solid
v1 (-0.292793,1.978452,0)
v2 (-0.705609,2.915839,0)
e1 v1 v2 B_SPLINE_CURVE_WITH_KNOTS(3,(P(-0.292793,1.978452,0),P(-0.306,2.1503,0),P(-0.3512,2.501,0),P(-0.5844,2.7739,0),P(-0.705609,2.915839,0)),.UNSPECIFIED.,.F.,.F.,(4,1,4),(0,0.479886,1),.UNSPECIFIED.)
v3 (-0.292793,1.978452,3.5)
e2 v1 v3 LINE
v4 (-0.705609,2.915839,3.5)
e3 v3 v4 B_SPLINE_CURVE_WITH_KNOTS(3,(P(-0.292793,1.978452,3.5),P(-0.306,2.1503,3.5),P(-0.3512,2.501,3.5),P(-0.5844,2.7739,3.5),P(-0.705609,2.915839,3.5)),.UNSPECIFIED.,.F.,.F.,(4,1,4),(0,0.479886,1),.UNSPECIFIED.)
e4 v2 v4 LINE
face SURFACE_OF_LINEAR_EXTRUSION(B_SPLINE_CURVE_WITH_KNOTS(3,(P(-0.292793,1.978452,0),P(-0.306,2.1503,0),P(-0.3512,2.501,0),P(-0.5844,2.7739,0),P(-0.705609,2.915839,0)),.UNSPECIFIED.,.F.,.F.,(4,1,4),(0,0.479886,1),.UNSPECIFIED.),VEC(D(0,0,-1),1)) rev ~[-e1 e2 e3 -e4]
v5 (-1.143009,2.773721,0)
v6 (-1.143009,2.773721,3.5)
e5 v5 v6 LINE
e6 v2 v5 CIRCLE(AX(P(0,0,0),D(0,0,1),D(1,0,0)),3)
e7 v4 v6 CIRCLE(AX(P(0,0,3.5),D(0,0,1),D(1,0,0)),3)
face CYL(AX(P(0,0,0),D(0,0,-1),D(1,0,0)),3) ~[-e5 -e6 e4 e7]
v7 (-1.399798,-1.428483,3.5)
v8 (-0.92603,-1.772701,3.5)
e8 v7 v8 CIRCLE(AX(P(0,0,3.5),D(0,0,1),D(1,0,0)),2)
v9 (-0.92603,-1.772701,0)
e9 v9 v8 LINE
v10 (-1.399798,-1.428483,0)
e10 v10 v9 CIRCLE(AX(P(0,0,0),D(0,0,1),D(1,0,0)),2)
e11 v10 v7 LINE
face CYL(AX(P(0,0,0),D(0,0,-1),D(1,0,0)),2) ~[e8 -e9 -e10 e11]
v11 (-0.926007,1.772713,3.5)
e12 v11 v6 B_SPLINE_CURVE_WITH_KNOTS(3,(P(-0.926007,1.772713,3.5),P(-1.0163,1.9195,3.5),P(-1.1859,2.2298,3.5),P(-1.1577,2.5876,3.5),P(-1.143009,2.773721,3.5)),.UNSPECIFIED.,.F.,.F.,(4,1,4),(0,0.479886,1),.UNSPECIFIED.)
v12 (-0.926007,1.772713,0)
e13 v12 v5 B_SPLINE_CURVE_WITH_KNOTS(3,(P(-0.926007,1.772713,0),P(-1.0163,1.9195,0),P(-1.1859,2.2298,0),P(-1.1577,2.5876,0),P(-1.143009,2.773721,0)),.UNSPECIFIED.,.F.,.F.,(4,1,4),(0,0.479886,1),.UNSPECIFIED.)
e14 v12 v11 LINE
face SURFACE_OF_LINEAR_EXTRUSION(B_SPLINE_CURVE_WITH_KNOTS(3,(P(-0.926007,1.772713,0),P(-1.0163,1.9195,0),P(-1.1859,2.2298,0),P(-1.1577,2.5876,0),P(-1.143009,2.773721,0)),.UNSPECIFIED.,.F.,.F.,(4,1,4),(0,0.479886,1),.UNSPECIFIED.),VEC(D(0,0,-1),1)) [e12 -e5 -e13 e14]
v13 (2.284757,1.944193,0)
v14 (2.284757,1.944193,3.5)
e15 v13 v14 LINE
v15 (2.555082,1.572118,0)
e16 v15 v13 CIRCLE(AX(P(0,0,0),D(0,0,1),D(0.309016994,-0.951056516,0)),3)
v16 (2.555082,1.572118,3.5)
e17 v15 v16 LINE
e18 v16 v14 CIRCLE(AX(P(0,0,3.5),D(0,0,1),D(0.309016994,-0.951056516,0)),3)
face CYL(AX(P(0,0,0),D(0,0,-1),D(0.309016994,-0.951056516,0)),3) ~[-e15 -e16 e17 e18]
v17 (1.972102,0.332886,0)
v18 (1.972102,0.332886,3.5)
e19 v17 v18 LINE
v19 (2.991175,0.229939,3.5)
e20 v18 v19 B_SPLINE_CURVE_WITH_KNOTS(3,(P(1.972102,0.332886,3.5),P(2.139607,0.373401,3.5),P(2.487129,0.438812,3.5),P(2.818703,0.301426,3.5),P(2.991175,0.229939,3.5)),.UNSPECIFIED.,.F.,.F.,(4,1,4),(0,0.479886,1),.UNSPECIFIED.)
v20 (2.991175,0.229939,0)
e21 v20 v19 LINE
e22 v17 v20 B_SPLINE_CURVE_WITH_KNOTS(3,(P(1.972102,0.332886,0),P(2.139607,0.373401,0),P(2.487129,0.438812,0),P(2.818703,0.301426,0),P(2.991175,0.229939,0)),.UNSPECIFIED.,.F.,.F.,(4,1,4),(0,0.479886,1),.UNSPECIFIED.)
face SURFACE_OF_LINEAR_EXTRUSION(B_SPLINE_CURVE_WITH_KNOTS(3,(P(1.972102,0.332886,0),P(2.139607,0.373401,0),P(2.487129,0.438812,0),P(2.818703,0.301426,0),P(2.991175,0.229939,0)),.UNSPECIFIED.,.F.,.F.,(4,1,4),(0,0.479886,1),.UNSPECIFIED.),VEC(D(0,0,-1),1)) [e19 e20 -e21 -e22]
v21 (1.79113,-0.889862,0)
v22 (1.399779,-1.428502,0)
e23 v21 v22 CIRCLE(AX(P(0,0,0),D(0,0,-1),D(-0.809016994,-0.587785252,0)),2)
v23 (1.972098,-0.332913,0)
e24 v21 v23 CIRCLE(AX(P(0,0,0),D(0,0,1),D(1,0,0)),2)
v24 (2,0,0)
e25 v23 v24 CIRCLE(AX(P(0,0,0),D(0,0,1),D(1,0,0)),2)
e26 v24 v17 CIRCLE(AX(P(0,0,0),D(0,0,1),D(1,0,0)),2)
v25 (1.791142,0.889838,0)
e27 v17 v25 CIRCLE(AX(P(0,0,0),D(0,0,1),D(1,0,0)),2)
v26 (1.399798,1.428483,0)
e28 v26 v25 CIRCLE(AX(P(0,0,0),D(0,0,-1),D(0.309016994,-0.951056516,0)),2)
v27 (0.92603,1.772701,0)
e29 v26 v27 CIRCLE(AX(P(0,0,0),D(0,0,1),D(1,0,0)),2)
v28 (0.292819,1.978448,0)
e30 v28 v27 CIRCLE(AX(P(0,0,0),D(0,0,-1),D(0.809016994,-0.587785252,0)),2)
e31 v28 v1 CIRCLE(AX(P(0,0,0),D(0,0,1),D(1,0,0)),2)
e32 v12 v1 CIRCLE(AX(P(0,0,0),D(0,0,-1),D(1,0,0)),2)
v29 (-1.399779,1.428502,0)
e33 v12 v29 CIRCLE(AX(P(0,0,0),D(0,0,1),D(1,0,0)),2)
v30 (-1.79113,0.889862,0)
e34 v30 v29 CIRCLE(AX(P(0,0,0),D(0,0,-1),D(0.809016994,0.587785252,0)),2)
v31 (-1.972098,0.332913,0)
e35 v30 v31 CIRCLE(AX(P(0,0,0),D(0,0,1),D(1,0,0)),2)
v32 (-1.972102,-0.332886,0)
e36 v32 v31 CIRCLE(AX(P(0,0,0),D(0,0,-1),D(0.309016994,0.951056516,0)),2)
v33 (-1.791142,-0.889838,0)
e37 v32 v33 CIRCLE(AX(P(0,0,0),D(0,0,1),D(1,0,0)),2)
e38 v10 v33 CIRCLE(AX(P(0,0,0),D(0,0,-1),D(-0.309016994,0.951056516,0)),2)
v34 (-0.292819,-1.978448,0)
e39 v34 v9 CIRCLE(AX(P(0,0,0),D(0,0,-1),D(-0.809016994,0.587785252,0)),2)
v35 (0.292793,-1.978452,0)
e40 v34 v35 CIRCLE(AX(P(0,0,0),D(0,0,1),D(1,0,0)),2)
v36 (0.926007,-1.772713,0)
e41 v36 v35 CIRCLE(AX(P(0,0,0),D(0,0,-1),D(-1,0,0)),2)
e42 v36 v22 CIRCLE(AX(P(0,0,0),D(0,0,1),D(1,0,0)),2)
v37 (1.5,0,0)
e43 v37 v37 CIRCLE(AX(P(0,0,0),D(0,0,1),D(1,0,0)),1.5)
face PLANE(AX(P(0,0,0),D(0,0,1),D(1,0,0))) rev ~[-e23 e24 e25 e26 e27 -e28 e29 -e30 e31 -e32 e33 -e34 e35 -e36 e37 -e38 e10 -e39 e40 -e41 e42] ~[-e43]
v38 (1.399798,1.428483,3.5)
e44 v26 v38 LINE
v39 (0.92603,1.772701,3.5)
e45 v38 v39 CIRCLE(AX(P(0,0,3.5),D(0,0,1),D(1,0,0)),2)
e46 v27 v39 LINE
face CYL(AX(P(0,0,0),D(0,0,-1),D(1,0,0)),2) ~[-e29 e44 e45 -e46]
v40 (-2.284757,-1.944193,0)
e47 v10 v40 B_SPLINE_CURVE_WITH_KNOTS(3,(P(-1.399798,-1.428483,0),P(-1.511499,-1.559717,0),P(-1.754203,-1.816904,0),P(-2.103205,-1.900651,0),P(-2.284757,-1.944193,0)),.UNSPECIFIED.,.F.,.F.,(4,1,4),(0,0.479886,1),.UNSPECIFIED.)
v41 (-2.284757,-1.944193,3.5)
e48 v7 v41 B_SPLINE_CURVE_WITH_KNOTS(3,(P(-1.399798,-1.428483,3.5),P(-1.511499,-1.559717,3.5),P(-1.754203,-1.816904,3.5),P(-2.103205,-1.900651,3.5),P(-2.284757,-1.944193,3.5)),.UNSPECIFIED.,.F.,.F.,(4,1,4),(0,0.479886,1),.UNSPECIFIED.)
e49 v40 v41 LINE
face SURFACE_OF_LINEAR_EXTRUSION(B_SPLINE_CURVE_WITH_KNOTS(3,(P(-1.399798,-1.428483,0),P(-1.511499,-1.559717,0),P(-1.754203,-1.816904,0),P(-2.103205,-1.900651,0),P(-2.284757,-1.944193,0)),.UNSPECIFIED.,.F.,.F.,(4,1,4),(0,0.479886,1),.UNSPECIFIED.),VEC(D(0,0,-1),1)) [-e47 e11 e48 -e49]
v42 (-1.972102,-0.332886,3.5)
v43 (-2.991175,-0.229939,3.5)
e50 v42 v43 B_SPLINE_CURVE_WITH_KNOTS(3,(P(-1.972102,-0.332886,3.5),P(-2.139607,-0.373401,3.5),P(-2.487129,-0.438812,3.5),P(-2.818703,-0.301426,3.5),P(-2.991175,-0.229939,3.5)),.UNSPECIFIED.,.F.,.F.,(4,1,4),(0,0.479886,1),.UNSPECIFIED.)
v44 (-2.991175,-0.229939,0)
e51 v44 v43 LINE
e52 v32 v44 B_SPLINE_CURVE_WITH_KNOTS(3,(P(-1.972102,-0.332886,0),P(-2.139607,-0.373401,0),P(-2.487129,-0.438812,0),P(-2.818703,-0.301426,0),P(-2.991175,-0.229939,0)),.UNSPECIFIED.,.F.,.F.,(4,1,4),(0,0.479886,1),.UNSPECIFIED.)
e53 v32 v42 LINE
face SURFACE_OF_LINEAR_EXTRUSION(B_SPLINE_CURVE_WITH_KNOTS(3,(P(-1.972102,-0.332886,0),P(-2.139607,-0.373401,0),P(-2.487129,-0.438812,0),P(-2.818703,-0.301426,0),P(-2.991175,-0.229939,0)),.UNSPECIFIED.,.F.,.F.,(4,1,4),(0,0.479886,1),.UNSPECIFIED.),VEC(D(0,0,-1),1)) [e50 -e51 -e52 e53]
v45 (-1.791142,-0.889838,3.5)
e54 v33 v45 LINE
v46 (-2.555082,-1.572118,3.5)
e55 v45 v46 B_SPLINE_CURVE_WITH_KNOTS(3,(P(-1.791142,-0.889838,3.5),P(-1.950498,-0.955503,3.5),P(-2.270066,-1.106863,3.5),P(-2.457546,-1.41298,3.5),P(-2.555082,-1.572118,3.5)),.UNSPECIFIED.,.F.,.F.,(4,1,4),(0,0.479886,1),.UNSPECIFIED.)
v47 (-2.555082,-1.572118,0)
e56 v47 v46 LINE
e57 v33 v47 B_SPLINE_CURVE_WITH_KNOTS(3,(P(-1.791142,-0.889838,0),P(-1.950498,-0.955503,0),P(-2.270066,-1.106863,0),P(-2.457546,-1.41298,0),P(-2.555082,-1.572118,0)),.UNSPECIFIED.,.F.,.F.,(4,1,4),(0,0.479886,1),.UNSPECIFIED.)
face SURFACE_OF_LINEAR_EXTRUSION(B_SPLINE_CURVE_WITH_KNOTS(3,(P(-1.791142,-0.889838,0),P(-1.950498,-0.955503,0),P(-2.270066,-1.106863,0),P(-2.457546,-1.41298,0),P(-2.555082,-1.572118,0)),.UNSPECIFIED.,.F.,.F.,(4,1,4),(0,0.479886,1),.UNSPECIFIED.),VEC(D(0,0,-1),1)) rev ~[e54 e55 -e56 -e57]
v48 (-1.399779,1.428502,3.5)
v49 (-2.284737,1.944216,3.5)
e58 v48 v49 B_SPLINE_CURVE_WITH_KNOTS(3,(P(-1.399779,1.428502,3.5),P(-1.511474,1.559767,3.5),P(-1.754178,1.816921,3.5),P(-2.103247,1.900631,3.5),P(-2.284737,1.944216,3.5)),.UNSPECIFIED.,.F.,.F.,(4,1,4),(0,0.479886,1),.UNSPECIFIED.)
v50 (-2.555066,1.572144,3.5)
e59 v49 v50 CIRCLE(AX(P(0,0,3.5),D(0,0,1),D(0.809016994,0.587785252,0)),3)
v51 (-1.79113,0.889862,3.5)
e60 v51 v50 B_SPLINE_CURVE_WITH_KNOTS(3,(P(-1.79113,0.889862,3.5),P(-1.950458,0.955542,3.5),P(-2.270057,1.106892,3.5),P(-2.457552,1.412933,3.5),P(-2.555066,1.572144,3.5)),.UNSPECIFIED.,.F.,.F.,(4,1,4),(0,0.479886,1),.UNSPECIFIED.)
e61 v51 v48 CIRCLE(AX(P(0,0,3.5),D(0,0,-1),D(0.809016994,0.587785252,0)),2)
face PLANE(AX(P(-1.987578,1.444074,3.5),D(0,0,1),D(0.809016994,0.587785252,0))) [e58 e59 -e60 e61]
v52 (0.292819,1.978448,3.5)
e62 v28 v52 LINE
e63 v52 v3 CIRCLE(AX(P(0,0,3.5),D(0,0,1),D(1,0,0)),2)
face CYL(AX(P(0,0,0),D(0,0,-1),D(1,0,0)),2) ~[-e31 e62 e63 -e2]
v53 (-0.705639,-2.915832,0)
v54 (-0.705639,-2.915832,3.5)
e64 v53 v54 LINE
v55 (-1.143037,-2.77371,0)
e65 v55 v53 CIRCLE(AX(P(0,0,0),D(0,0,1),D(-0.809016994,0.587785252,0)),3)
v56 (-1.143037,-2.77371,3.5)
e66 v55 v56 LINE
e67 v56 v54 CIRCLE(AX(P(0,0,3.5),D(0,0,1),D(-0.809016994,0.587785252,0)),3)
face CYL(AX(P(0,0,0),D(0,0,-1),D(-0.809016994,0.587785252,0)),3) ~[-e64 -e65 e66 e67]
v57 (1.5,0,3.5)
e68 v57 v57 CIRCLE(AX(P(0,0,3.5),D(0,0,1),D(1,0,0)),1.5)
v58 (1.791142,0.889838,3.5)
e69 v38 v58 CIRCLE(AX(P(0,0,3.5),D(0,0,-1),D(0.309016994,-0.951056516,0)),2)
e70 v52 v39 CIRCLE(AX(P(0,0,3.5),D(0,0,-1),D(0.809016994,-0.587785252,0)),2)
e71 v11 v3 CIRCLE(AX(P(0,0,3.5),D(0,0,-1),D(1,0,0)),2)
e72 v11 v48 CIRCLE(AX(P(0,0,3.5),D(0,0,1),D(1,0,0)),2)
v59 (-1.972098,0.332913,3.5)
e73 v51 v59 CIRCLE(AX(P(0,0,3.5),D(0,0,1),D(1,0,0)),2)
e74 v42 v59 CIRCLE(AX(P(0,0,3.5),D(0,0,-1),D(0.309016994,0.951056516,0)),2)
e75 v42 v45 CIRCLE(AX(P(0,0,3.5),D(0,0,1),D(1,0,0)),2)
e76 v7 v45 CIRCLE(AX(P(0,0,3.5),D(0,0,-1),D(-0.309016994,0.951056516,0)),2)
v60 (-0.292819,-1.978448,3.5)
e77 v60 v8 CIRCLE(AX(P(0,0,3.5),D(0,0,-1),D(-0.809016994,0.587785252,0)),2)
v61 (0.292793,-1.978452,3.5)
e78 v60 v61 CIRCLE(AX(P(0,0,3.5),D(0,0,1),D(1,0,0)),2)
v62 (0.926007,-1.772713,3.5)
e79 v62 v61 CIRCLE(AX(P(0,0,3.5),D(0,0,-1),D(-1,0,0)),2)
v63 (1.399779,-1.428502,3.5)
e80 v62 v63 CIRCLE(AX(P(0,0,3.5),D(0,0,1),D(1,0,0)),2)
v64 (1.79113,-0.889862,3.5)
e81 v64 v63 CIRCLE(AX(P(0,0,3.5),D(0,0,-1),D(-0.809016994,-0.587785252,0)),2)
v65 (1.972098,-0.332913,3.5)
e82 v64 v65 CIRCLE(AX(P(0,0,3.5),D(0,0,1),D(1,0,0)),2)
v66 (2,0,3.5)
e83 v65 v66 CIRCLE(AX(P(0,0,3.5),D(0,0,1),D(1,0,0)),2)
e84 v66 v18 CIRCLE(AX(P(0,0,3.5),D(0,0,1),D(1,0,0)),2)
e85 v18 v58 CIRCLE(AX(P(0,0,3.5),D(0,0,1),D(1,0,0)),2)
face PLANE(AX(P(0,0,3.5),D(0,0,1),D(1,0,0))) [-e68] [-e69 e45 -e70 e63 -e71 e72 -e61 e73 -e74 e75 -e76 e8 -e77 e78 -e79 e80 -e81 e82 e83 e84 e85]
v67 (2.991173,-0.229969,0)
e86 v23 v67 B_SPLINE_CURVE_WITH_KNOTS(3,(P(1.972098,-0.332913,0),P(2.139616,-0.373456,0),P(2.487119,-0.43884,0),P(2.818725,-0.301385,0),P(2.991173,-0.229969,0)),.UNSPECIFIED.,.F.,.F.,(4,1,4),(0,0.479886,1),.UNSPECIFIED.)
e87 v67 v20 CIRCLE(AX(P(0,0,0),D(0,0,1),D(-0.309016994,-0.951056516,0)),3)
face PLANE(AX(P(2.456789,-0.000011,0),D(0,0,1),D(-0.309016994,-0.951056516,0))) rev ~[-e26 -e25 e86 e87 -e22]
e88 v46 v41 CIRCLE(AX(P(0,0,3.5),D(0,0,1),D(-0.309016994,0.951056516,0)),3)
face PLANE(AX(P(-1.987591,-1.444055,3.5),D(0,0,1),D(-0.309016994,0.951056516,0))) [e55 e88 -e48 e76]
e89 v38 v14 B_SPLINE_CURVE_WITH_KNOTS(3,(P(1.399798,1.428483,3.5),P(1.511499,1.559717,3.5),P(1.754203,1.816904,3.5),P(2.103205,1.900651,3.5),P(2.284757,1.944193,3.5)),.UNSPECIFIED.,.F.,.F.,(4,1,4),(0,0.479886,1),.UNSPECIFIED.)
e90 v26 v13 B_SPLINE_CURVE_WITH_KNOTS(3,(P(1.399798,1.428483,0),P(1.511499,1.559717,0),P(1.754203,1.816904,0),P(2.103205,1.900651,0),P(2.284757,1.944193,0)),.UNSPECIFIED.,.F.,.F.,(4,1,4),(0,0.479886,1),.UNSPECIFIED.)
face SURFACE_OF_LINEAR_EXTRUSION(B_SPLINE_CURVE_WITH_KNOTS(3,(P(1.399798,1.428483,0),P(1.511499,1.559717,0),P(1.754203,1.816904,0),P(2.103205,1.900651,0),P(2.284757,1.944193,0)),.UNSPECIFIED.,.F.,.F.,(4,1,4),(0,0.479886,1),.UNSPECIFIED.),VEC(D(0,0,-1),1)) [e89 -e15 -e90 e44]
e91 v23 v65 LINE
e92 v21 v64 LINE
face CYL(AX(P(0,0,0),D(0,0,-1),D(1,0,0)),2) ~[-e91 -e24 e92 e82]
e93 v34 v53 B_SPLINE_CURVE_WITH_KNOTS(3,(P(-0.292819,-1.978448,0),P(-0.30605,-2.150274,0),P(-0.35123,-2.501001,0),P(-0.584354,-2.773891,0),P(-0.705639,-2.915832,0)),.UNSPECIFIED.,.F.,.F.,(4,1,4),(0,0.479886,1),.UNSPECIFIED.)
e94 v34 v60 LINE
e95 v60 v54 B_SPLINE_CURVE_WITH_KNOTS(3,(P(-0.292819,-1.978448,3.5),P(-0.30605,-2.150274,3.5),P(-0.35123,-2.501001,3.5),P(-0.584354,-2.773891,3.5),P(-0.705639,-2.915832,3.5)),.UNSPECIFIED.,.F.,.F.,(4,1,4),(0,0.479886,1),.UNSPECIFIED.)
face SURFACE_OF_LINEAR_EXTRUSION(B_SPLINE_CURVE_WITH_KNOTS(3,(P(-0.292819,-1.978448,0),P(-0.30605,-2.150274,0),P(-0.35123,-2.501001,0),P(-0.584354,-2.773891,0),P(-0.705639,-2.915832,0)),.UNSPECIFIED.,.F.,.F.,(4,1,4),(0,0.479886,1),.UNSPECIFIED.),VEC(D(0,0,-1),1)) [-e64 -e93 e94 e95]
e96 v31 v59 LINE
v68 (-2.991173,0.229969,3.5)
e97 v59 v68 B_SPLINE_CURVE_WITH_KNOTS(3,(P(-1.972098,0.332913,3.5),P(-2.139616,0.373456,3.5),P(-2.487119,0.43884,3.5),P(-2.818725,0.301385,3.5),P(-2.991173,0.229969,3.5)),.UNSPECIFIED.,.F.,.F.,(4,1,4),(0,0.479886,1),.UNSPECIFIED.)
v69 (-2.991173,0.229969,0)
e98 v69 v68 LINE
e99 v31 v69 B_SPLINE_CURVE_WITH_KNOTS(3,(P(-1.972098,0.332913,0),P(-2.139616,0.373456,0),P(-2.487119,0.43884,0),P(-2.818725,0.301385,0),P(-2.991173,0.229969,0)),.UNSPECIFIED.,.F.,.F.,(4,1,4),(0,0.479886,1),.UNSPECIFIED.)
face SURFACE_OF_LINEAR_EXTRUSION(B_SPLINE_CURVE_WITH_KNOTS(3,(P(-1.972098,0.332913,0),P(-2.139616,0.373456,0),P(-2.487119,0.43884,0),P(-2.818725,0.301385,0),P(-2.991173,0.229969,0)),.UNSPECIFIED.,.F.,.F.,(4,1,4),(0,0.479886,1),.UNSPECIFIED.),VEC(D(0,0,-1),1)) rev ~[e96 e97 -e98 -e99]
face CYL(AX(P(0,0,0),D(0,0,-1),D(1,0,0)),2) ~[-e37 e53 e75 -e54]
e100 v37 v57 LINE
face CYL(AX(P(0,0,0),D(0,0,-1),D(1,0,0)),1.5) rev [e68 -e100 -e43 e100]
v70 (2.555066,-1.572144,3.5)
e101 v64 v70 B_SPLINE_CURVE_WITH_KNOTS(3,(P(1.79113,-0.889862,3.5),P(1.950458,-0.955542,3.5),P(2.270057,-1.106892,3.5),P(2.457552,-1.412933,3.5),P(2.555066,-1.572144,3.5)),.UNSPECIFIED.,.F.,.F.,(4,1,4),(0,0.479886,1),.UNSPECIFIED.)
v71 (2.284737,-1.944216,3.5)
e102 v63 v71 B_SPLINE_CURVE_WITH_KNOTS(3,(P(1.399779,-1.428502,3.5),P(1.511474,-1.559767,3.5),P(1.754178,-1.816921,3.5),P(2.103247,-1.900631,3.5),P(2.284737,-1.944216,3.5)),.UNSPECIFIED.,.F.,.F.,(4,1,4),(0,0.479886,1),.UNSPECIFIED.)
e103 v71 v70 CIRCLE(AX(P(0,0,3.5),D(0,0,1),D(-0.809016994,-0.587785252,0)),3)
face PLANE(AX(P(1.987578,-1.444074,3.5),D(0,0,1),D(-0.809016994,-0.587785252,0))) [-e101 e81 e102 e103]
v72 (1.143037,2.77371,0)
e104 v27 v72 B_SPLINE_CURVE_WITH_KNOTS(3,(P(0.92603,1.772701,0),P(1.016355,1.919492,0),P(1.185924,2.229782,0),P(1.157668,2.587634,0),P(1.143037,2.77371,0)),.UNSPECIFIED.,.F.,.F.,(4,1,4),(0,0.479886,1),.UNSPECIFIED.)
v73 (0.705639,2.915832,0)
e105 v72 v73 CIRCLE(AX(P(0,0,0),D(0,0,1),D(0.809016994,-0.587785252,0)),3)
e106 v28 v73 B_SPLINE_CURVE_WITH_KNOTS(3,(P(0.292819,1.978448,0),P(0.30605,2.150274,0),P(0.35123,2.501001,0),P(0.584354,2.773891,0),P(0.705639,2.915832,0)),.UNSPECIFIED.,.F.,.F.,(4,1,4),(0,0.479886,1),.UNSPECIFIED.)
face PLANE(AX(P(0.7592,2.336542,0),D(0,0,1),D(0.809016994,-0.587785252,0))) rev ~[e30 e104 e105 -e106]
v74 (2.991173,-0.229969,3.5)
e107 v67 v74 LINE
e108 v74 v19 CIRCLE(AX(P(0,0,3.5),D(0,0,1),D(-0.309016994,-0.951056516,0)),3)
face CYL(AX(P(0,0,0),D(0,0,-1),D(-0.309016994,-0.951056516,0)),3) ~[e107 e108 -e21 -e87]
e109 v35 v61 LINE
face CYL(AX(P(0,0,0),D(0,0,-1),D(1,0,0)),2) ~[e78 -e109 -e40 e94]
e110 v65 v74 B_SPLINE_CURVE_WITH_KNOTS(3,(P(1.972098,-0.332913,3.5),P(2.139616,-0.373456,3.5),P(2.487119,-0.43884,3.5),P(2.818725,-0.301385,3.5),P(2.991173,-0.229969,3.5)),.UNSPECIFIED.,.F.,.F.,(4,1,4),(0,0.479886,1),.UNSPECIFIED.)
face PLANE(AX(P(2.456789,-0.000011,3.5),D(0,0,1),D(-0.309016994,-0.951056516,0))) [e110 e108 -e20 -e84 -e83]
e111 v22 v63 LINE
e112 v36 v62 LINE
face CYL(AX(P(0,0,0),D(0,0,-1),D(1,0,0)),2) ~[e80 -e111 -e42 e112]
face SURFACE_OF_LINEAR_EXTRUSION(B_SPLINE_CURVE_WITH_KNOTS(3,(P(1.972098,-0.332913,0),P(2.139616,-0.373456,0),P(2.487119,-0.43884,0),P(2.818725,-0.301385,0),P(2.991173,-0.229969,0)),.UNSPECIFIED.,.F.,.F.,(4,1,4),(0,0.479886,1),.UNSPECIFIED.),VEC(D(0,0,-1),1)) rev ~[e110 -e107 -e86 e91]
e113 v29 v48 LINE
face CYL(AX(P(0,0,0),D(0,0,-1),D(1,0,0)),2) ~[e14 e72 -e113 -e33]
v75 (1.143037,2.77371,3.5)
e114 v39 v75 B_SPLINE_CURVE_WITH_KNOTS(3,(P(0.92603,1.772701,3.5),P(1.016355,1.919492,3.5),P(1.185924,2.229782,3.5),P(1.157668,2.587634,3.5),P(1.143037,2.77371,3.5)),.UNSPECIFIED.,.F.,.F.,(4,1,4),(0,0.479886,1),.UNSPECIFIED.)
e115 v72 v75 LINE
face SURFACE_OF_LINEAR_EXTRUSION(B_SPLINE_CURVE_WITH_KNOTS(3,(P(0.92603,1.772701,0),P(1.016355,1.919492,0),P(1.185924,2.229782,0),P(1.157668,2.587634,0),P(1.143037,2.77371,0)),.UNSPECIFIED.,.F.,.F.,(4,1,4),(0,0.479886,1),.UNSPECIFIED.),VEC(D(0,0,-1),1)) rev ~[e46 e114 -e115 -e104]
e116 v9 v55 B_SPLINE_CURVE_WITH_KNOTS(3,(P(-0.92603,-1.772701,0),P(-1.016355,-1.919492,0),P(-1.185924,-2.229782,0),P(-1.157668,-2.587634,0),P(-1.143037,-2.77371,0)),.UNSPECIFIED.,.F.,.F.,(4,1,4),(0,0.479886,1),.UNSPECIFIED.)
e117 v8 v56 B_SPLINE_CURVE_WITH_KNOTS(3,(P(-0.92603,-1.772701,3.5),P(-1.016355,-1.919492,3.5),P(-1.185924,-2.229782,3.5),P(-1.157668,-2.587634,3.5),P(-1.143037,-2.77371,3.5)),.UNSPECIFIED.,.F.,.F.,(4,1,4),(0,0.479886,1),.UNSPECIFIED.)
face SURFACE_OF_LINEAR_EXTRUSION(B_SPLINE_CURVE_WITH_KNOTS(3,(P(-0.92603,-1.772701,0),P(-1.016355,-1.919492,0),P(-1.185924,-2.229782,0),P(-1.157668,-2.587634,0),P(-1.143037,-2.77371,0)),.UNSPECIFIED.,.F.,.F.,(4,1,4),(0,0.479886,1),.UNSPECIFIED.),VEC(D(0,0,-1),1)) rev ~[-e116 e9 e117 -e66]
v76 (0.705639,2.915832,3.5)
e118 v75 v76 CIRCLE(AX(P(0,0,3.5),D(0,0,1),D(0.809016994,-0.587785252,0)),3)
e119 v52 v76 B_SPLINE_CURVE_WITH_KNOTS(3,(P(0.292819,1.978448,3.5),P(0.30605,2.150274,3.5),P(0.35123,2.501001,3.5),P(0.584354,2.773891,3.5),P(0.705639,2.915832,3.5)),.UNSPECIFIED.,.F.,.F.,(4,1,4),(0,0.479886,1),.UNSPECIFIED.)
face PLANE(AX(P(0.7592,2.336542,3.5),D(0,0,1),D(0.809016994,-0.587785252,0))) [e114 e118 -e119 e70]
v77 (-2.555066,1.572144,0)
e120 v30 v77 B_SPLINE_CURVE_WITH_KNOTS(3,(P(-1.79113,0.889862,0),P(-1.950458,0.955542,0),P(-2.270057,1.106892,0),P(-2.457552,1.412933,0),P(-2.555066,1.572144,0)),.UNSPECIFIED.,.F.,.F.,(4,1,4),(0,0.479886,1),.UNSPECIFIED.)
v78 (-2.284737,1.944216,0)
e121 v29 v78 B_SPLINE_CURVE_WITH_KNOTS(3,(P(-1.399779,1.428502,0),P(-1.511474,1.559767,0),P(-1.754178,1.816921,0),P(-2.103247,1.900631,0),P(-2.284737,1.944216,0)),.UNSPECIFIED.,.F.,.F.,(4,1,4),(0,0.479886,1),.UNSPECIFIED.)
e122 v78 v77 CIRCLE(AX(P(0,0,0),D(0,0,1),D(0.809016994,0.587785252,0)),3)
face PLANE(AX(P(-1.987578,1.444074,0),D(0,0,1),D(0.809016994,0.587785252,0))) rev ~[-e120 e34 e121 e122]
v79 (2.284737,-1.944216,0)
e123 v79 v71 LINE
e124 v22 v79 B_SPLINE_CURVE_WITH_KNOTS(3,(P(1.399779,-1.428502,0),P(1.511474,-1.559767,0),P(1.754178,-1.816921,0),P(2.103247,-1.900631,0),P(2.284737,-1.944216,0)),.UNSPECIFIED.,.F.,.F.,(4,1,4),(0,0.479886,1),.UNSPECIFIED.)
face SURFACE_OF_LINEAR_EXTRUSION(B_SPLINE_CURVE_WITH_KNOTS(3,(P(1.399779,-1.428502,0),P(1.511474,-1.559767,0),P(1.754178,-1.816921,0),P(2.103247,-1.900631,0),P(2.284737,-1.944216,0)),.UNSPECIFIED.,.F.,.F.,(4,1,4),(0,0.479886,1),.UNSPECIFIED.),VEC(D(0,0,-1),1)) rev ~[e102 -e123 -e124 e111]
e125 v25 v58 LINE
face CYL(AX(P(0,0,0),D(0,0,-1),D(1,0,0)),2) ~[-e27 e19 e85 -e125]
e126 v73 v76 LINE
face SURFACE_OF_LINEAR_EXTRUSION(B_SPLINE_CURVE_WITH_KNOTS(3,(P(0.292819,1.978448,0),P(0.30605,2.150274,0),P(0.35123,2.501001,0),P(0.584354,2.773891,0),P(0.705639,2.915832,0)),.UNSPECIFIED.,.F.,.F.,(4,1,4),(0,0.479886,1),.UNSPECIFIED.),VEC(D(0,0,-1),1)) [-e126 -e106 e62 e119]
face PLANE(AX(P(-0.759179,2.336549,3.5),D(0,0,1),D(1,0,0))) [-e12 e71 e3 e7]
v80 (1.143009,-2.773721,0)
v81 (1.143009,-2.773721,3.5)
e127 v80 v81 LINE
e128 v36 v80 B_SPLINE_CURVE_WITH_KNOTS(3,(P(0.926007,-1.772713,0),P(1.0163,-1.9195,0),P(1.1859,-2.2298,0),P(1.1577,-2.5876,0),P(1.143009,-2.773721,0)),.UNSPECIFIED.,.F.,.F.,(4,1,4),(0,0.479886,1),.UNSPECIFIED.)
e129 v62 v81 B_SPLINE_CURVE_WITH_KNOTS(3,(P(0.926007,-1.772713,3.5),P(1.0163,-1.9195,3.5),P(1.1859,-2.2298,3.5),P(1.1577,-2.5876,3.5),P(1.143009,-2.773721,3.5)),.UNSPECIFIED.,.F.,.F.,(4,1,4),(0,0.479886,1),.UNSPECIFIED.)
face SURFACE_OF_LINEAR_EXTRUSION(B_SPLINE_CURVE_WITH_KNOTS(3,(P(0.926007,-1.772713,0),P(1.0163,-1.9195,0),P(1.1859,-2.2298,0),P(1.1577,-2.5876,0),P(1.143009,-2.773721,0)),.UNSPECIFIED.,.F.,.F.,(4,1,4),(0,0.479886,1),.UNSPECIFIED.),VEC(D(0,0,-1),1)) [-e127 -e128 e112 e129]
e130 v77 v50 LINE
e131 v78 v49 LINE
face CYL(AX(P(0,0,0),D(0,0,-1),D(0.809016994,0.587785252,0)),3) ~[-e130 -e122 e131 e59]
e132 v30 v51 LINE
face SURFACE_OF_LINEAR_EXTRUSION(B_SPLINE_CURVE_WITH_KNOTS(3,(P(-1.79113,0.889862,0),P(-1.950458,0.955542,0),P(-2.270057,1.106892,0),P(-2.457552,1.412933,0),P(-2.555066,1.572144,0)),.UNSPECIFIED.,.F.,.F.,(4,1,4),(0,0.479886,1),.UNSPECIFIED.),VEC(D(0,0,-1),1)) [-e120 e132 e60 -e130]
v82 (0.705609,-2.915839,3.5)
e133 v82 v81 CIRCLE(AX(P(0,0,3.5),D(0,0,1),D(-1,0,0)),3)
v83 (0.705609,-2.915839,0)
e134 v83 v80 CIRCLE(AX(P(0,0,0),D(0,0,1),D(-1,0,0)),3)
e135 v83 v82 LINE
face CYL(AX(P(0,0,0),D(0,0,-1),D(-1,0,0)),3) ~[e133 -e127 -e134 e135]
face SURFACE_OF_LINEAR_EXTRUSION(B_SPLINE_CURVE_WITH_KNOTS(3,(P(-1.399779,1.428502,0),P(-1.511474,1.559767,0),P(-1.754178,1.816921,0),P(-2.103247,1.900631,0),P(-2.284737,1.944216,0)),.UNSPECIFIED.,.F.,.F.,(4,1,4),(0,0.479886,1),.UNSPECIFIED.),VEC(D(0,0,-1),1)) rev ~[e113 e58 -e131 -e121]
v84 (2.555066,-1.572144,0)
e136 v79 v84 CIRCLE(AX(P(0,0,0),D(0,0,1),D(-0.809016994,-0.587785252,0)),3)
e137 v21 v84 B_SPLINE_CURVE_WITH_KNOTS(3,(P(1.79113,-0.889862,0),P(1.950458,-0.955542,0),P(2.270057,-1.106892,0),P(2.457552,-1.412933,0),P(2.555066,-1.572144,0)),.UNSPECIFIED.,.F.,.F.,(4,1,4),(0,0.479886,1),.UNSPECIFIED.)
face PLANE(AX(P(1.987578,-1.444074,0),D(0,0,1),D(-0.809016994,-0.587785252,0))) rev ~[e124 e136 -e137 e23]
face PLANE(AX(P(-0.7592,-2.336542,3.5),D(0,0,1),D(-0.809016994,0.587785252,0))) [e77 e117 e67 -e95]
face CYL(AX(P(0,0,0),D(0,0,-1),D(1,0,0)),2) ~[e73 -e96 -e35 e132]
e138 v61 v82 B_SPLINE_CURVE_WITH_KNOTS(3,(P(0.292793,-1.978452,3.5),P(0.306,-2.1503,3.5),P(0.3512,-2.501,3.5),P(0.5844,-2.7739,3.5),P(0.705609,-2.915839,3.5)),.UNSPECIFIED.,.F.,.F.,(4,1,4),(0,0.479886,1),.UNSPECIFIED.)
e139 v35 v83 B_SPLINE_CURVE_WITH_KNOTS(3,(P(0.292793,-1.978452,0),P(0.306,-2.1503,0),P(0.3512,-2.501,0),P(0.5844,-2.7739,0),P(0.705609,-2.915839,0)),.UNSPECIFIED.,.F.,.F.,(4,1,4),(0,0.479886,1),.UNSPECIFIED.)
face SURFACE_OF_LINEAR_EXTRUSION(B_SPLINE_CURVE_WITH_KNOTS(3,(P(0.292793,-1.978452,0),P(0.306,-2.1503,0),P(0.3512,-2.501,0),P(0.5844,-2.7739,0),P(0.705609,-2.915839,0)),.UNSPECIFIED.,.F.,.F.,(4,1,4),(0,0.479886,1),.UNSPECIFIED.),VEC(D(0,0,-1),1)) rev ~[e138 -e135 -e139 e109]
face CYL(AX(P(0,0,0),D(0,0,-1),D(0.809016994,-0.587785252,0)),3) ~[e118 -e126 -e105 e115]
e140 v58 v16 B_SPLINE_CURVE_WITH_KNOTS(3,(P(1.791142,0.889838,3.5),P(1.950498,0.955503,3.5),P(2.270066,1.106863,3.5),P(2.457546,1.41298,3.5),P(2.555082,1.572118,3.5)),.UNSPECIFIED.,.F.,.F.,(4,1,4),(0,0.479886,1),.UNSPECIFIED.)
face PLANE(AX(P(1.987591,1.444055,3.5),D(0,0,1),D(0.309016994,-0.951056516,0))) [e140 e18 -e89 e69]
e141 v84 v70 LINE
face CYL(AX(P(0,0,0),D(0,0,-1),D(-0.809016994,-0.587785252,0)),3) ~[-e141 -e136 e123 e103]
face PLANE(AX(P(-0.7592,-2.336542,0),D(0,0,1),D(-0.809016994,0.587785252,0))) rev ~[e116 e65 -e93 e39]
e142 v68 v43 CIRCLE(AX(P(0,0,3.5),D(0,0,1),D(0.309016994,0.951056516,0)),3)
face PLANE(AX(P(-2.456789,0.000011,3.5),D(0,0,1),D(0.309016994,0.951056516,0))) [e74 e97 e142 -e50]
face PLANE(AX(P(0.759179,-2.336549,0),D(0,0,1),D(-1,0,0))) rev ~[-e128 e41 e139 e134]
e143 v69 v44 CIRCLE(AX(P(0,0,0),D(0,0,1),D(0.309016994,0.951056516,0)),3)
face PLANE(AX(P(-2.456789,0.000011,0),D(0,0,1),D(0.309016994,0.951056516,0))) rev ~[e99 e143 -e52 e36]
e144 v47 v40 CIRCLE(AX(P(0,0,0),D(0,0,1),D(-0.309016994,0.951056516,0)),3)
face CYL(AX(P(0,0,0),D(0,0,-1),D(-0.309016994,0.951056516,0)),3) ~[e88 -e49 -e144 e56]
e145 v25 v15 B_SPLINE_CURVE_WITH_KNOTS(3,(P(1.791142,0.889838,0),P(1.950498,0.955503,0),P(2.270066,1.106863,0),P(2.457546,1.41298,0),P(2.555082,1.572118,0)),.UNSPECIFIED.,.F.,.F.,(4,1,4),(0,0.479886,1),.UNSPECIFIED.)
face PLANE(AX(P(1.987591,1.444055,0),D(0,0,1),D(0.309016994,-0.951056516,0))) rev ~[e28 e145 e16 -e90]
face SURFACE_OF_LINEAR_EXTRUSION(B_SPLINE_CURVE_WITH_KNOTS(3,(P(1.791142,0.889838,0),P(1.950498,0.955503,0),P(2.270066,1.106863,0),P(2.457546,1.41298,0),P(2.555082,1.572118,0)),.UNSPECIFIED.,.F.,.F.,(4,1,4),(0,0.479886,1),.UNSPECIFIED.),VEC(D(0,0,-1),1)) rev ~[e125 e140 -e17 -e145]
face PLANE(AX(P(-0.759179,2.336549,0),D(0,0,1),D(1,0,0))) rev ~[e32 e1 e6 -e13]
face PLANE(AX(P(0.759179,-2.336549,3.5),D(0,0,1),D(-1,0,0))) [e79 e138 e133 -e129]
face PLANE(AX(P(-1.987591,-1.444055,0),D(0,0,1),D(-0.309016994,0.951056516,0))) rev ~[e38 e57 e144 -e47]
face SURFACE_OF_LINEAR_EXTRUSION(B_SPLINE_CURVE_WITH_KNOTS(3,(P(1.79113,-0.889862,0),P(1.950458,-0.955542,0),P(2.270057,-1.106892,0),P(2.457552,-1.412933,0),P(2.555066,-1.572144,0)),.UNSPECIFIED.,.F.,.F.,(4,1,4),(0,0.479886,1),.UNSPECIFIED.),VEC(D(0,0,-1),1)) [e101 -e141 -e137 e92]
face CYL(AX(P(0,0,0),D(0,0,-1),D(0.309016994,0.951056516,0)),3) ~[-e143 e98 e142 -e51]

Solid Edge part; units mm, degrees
sketch "Sketch1" plane through (0, 0, 0) normal (0, 0, 1) x (1, 0, 0)
  spline S0 degree 3 poles (-0.2928, 1.9785) (-0.306, 2.1503) (-0.3512, 2.501) (-0.5844, 2.7739) (-0.7056, 2.9158) knots 0 0 0 0 0.479886 1 1 1 1
  arc A0 (-0.7056, 2.9158) -> (-1.143, 2.7737) centre (0, 0) ccw
  spline S1 degree 3 poles (-0.926, 1.7727) (-1.0163, 1.9195) (-1.1859, 2.2298) (-1.1577, 2.5876) (-1.143, 2.7737) knots 0 0 0 0 0.479886 1 1 1 1
  arc A1 (-0.926, 1.7727) -> (-0.2928, 1.9785) centre (0, 0) cw
extrude "Protrusion1" add sketch "Sketch1" along normal blind 3.5
sketch "Sketch2" plane through (0, 0, 0) normal (0, 0, 1) x (1, 0, 0)
  circle A0 centre (0, 0) radius 1.5
  circle A1 centre (0, 0) radius 2
extrude "Rad" add sketch "Sketch2" along normal blind 3.5
pattern_circular "Pattern1" count 10 over 360 about axis through (0, 0, 0) along (0, 0, 1) of "Protrusion1"
